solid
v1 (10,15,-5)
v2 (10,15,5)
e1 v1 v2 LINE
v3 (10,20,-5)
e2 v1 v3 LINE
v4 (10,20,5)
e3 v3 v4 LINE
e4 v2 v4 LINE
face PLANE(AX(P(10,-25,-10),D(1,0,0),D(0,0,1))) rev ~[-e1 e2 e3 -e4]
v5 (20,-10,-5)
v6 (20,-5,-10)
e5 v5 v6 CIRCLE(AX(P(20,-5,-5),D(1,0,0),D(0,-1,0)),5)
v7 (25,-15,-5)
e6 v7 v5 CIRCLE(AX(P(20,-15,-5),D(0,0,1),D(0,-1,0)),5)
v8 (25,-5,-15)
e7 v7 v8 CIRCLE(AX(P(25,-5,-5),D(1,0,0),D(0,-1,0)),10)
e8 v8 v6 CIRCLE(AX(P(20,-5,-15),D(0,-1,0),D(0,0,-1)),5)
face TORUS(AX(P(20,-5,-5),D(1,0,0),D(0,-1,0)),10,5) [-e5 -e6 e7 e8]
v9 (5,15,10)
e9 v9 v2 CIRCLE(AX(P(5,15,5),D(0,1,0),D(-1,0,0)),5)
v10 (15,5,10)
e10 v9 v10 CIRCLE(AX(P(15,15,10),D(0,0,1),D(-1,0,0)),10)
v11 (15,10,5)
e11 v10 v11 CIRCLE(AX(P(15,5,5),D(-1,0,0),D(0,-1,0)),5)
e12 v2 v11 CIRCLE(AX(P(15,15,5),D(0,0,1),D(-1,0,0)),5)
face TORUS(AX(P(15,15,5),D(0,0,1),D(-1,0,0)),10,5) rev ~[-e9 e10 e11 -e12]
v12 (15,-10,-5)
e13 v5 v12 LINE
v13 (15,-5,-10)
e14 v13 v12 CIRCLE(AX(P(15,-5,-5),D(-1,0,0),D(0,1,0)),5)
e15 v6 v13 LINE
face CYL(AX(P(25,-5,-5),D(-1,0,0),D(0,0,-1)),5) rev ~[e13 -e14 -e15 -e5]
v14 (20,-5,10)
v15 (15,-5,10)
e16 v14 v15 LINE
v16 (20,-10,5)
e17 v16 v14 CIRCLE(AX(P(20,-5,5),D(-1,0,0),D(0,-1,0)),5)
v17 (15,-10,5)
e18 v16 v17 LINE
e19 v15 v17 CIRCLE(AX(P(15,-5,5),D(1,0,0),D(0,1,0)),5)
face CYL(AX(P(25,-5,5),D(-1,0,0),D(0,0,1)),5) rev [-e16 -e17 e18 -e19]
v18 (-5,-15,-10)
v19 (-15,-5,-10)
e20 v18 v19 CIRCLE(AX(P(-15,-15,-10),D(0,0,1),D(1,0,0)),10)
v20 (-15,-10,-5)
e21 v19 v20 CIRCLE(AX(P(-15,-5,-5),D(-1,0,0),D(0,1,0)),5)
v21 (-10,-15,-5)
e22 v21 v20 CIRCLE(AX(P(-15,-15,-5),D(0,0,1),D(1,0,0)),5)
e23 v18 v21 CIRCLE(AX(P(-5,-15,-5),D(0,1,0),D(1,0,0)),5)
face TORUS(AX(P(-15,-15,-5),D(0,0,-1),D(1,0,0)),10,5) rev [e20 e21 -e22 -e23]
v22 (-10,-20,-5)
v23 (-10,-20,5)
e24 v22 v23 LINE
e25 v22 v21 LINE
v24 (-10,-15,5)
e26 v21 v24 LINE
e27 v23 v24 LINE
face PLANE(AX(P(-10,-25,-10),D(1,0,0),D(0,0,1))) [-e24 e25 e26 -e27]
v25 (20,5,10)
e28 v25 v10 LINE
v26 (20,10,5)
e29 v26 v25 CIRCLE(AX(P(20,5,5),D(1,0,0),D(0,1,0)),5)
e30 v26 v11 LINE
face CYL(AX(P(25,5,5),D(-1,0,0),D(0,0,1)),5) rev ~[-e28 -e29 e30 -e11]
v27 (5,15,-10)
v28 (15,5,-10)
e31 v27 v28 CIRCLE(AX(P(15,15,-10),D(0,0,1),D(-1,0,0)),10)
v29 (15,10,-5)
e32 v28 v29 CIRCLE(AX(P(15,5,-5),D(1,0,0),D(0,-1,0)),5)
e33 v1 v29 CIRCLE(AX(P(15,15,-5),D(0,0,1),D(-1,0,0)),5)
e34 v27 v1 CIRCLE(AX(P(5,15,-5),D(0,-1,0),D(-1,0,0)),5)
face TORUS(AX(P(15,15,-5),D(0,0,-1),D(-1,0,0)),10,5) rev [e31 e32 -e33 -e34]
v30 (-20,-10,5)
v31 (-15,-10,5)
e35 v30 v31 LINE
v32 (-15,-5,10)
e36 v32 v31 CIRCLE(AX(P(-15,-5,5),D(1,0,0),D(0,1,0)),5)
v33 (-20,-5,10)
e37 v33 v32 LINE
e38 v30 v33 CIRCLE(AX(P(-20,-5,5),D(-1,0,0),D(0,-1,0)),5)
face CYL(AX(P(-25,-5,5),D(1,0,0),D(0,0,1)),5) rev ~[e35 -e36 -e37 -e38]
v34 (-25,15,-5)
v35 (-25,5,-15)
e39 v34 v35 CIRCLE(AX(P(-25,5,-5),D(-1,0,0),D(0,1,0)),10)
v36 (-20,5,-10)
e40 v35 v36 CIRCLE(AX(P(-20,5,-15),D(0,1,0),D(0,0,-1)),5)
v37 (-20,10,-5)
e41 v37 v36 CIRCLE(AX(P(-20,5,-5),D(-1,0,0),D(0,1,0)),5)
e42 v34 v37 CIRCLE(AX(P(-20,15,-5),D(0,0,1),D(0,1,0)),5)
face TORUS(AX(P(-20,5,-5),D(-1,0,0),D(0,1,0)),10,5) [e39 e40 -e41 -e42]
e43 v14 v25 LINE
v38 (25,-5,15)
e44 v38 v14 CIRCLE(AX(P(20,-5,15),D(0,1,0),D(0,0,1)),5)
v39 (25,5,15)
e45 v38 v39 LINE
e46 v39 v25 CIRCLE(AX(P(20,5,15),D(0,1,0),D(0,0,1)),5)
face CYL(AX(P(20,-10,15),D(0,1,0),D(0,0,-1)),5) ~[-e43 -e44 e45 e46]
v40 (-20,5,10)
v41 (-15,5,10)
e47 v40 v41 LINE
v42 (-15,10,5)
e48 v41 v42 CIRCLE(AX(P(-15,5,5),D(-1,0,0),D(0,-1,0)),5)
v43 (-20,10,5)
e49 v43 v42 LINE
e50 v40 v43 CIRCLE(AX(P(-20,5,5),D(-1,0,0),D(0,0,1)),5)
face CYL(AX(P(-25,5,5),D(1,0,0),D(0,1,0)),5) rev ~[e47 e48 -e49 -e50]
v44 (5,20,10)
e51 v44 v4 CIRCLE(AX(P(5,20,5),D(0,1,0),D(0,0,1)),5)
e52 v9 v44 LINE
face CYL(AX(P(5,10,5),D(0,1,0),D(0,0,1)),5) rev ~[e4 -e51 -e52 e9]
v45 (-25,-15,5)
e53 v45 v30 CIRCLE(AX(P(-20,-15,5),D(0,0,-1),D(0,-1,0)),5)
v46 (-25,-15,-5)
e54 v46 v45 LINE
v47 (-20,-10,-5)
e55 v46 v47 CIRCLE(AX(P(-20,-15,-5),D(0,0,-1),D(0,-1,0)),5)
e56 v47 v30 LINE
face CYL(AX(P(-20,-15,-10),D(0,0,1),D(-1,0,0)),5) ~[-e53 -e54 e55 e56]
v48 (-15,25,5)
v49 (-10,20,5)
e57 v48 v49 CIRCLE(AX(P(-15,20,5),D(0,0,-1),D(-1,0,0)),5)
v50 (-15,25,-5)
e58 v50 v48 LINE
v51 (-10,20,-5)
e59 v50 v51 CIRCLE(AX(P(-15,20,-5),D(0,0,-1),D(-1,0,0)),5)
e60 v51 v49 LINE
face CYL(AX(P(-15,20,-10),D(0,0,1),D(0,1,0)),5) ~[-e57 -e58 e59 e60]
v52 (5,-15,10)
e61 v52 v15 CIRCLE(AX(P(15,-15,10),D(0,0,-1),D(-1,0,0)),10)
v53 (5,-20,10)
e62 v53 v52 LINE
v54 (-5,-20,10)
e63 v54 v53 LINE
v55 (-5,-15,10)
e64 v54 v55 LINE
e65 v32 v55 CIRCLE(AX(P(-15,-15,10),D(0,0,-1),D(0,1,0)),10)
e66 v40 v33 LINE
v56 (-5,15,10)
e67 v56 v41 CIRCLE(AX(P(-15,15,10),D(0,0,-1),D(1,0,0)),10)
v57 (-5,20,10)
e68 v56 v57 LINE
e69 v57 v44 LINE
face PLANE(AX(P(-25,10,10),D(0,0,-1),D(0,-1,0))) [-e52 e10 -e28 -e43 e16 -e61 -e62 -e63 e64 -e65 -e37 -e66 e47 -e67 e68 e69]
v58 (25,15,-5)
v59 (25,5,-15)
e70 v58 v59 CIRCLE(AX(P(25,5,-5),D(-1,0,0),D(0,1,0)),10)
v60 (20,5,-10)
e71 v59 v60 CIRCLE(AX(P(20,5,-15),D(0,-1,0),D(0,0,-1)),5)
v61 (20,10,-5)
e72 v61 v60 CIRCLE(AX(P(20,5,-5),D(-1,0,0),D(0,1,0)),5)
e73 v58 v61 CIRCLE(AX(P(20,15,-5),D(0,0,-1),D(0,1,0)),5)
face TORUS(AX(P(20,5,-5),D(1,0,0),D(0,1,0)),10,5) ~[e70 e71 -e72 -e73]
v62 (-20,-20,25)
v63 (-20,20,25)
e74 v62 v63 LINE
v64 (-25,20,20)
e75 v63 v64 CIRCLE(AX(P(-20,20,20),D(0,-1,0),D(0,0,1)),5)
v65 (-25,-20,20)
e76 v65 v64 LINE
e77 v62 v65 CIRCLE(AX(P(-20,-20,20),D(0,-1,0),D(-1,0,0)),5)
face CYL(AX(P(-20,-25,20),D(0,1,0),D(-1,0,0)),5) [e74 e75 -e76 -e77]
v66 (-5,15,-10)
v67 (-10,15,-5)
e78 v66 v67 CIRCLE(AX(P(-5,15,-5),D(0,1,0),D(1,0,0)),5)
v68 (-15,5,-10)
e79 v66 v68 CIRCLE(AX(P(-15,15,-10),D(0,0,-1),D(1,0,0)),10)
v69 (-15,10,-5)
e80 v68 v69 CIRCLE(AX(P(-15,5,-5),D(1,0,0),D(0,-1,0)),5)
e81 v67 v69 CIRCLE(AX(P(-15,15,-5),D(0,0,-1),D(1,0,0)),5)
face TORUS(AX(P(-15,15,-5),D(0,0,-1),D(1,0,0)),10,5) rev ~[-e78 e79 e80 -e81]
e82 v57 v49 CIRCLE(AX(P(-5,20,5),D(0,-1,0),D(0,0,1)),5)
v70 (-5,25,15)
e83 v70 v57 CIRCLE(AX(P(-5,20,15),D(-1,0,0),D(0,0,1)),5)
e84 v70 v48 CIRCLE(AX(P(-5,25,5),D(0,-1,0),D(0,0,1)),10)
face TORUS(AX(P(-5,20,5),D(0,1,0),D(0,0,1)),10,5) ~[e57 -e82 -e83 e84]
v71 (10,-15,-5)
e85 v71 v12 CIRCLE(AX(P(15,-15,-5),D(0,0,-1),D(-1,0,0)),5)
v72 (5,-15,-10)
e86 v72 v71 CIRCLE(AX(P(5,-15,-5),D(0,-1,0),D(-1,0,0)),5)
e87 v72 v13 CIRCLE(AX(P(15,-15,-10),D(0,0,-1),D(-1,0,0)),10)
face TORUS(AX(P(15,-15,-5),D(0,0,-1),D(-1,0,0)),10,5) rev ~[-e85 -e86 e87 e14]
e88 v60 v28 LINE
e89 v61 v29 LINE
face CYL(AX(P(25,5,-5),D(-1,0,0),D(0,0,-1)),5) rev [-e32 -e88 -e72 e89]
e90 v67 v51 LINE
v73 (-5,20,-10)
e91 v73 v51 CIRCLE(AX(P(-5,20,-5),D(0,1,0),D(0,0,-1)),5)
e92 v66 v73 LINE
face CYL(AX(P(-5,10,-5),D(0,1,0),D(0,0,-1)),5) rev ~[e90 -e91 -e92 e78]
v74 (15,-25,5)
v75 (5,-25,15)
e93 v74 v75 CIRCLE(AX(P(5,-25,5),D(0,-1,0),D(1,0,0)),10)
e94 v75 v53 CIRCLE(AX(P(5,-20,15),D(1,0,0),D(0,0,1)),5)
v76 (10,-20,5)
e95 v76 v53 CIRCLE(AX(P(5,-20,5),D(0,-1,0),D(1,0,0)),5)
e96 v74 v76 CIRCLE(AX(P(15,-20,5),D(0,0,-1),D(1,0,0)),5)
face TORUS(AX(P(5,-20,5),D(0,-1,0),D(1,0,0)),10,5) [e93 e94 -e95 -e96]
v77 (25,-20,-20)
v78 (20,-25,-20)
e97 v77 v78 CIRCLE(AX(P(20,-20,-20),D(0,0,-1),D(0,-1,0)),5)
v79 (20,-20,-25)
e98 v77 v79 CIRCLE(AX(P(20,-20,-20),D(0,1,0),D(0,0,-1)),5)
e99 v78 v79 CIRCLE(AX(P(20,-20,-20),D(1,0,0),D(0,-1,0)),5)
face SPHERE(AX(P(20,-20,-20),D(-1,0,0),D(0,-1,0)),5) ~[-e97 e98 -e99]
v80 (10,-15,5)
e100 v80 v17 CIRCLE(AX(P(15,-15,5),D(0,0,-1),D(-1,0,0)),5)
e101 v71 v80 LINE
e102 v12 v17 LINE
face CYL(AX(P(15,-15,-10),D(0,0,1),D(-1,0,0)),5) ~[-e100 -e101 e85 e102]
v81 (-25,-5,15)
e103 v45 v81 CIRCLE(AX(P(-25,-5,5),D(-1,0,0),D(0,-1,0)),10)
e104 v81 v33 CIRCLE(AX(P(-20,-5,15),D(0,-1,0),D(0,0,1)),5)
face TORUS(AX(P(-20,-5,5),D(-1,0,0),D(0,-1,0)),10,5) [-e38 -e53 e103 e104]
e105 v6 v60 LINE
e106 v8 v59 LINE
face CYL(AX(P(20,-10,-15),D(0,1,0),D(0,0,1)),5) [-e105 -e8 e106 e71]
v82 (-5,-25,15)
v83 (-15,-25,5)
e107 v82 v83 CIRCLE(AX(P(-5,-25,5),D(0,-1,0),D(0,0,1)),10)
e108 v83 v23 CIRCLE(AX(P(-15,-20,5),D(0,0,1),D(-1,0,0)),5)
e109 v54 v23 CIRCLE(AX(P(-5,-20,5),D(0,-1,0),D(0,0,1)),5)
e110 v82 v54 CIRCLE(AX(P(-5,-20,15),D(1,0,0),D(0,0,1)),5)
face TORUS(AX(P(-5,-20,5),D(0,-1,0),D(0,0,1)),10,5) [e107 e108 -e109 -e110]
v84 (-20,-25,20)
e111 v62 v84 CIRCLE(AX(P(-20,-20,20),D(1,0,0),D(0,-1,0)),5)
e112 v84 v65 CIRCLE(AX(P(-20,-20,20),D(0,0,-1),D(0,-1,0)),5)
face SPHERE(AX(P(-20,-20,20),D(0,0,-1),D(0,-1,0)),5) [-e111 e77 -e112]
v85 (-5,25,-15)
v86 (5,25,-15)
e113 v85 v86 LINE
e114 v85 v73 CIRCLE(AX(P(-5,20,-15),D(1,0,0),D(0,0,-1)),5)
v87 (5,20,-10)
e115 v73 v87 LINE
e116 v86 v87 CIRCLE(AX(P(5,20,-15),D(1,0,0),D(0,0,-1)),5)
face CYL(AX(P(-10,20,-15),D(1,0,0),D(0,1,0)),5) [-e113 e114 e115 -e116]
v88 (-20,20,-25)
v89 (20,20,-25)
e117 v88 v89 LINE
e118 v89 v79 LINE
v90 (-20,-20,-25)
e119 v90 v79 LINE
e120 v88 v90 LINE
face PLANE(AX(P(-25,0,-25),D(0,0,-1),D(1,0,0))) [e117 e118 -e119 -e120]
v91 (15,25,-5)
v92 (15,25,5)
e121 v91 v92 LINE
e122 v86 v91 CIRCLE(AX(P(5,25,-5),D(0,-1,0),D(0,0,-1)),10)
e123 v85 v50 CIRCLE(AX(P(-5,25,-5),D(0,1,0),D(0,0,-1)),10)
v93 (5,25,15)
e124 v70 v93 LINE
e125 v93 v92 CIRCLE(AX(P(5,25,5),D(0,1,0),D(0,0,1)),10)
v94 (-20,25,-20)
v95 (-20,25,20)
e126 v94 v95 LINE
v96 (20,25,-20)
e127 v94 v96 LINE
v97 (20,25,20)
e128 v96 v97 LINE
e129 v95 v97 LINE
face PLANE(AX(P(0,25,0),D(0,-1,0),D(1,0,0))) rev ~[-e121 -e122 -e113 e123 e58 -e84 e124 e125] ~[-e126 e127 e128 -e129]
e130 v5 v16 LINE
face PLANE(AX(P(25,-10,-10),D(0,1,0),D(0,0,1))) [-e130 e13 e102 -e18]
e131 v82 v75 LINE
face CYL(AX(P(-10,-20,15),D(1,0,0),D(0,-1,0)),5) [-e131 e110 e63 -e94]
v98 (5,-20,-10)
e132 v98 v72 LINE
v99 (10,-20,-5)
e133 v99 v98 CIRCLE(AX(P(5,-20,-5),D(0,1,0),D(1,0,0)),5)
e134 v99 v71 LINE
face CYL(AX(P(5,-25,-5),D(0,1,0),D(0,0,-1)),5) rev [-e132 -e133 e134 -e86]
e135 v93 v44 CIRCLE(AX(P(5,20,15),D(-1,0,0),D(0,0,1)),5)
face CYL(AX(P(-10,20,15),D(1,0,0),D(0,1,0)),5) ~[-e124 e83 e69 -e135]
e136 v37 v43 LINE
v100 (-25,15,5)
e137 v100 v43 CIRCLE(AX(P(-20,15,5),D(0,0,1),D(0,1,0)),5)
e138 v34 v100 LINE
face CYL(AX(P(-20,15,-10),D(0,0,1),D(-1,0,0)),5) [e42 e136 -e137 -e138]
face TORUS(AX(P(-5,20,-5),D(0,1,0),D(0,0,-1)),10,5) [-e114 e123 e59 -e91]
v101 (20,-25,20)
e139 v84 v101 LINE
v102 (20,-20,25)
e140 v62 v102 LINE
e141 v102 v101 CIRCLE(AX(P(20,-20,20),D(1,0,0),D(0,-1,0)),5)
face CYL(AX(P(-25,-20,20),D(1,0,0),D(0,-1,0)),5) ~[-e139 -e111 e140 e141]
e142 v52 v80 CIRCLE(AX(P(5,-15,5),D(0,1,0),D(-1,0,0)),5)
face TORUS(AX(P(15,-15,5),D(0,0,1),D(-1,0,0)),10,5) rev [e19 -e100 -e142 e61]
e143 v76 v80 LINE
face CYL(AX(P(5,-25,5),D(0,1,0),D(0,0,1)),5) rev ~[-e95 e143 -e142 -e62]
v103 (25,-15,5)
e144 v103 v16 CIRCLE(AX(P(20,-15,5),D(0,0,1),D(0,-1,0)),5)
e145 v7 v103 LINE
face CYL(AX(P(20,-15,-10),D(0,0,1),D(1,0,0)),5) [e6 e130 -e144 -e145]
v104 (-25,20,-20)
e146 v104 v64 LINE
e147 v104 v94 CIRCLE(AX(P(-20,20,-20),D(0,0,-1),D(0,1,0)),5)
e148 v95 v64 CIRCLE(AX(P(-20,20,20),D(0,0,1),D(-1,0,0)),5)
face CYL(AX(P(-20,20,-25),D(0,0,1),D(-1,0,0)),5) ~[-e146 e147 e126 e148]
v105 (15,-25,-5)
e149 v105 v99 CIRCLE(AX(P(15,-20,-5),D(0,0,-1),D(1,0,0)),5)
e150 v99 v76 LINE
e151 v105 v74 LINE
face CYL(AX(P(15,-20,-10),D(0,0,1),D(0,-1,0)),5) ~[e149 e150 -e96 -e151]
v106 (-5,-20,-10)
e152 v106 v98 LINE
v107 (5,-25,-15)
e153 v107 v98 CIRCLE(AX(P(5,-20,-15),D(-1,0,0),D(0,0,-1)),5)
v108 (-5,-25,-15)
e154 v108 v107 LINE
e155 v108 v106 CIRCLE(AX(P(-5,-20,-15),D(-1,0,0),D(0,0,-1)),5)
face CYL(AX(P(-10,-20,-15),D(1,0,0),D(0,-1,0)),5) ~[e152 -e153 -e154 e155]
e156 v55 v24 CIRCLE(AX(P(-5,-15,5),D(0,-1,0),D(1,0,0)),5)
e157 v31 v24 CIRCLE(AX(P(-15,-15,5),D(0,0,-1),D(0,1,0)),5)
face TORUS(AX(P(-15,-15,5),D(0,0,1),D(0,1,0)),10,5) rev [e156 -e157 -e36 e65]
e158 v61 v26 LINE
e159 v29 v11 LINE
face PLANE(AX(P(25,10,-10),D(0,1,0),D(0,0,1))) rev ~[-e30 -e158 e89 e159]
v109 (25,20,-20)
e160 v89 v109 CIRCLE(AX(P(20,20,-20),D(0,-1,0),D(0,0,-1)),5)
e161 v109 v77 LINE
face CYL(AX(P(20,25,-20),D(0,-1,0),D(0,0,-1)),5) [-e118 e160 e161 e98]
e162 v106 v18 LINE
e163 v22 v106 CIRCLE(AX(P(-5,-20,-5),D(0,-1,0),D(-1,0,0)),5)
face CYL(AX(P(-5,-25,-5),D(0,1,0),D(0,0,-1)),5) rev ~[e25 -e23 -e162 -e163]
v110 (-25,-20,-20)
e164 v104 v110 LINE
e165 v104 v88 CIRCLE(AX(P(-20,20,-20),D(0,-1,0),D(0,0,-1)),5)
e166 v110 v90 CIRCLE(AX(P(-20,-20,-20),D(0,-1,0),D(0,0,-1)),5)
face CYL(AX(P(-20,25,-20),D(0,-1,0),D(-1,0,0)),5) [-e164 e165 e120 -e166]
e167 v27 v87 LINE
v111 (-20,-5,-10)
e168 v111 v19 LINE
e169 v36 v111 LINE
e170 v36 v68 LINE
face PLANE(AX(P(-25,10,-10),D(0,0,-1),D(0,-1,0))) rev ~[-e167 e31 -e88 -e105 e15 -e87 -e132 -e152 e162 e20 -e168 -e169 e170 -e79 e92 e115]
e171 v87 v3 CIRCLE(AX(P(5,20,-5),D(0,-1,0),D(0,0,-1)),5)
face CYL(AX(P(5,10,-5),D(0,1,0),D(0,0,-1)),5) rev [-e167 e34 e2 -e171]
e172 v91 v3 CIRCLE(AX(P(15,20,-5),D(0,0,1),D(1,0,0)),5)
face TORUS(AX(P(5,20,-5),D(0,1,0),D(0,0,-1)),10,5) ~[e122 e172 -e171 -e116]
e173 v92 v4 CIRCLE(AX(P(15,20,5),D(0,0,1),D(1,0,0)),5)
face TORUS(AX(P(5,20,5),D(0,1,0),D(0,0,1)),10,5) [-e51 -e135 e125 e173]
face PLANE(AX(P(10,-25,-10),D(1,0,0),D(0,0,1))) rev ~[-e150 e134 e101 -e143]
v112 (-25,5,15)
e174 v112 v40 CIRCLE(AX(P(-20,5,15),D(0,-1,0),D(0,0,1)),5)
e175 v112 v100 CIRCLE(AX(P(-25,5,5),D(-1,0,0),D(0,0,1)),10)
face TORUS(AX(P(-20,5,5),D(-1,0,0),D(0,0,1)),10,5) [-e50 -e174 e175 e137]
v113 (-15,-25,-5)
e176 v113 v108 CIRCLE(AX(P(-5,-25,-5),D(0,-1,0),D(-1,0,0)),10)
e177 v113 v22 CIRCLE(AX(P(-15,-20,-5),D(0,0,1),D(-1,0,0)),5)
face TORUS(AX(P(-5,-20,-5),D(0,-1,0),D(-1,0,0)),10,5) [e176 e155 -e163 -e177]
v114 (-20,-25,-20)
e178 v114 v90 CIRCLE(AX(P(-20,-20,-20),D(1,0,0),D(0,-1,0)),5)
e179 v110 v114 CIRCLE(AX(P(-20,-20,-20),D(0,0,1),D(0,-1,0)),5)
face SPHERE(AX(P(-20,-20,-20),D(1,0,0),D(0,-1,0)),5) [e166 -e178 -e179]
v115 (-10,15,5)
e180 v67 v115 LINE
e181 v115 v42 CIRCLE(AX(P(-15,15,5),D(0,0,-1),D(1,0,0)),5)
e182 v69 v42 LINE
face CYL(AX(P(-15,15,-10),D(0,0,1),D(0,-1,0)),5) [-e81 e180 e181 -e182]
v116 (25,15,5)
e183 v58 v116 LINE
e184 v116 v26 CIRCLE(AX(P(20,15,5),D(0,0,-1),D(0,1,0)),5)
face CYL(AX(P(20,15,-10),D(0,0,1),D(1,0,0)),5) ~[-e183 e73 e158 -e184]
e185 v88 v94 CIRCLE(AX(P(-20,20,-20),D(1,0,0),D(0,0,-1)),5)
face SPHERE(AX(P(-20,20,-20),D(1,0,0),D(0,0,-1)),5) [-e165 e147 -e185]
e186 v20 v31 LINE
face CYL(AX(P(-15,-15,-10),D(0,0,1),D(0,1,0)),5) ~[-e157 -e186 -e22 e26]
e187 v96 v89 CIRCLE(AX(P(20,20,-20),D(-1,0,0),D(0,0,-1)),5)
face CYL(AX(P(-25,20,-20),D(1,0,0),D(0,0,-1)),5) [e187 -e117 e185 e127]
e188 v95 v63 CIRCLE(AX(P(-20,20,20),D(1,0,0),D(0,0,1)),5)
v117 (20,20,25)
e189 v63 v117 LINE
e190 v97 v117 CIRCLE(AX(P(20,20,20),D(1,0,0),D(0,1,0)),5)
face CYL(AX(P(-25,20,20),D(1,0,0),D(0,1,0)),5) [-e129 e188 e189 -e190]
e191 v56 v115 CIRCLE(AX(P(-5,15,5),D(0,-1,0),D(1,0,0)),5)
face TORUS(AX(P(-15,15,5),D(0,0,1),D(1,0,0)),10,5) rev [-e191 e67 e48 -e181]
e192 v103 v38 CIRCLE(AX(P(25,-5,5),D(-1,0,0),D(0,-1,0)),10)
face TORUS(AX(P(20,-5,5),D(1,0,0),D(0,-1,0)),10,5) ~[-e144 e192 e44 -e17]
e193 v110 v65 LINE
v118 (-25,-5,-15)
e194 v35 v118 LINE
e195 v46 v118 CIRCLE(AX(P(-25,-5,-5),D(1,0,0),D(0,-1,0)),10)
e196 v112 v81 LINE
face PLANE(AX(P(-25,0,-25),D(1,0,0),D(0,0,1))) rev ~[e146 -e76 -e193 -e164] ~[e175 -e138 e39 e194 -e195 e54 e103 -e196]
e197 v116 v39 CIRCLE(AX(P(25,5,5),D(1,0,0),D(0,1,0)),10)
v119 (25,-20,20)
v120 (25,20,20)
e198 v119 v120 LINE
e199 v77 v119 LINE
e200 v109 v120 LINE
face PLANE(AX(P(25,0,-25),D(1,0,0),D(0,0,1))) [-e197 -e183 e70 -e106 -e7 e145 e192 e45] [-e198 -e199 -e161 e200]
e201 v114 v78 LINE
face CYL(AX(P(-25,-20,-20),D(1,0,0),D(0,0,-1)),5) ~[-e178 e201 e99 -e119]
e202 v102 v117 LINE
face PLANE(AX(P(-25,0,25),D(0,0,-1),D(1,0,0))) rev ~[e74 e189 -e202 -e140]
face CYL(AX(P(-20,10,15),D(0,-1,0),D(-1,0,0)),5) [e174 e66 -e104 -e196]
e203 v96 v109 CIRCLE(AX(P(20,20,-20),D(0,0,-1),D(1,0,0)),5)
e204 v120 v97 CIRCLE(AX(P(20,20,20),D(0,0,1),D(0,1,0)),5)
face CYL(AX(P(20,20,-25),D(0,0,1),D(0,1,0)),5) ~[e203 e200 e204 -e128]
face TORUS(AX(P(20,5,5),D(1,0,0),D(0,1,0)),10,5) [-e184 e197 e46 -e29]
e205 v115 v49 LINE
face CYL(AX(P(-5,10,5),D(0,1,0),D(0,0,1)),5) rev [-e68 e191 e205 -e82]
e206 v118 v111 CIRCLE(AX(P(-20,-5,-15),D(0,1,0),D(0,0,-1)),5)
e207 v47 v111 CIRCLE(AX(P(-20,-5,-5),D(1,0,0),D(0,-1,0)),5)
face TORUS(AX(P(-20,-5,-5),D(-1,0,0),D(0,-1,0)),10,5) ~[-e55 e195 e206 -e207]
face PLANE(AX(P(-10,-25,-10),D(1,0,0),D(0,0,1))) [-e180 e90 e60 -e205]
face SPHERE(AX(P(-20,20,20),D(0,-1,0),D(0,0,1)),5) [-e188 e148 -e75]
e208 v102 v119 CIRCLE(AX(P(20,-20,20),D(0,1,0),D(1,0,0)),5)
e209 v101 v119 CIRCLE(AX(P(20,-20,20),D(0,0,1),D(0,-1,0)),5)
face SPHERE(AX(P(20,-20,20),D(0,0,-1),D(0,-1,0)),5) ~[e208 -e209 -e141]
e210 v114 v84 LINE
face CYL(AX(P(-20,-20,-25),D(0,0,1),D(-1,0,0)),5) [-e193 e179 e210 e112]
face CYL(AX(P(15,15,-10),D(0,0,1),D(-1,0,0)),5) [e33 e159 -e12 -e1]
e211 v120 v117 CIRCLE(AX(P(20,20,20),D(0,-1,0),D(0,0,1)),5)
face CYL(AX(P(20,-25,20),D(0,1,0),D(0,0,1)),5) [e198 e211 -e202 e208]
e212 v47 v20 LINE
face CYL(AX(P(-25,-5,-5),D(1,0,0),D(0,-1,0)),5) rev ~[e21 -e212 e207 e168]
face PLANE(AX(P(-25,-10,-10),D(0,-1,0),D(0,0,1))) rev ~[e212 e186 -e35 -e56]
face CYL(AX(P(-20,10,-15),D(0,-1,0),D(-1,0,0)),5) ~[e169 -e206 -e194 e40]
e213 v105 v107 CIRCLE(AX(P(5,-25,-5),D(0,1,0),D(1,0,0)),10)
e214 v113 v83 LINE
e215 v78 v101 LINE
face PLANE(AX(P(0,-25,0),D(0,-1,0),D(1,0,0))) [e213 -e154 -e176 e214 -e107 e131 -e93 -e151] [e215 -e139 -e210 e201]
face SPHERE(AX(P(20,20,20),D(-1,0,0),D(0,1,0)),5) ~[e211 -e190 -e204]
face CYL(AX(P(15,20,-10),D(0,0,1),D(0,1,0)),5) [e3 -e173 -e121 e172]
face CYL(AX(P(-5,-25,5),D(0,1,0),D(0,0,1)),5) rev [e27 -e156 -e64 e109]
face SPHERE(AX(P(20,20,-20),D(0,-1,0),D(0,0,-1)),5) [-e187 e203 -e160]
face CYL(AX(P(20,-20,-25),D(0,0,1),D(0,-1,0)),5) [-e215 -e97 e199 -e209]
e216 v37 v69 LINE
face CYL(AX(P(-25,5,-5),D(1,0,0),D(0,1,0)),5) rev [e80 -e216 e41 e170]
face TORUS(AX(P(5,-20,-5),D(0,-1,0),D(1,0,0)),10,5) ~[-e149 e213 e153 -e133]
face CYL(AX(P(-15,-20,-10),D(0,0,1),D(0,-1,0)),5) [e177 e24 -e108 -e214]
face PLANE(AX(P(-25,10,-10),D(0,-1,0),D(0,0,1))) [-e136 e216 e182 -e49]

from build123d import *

# Parameters (mm, degrees)
F0_W     = 50
F0_H     = 50
F1_DEPTH = 25
F2_W     = 20
F2_H     = 20
F3_DEPTH = 50
F4_W     = 20
F4_H     = 20
F5_DEPTH = 15
F6_W     = 20
F6_H     = 20
F7_DEPTH = 15
F8_R     = 5


with BuildPart() as f1:
    # F0 (on Front) → F1 (new body, symmetric)
    with BuildSketch(Plane.XZ):
        Rectangle(F0_W, F0_H)
    extrude(amount=F1_DEPTH, both=True)

    # F2 (on face) → F3 (cut, through all)
    with BuildSketch(Plane.XZ.offset(25)):
        Rectangle(F2_W, F2_H)
    extrude(amount=-F3_DEPTH, mode=Mode.SUBTRACT)

    # F4 (on face) → F5 (cut, through all)
    with BuildSketch(Plane.YZ.offset(25)):
        Rectangle(F4_W, F4_H)
    extrude(amount=-F5_DEPTH, mode=Mode.SUBTRACT)

    # F6 (on face) → F7 (cut, through all)
    with BuildSketch(Plane(origin=(-25, 0, 0), x_dir=(0, -1, 0), z_dir=(-1, 0, 0))):
        Rectangle(F6_W, F6_H)
    extrude(amount=-F7_DEPTH, mode=Mode.SUBTRACT)

    # F8
    f8_edges = [f1.edges().sort_by_distance(p)[0] for p in [
        (-17.5, -10, 10),
        (17.5, -10, 10),
        (10, -25, 0),
        (0, -25, -25),
        (-25, -25, 0),
        (25, -25, 0),
        (0, -25, 25),
        (0, -25, 10),
        (-10, -25, 0),
        (0, -25, -10),
        (-17.5, -10, -10),
        (-25, 0, 25),
        (17.5, -10, -10),
        (0, 25, 25),
        (25, -10, 0),
        (10, -10, 0),
        (10, -17.5, -10),
        (-17.5, 10, -10),
        (-25, -10, 0),
        (17.5, 10, 10),
        (25, 0, -25),
        (-10, -17.5, 10),
        (-17.5, 10, 10),
        (0, 25, -10),
        (-10, -10, 0),
        (0, 25, 10),
        (0, 25, -25),
        (17.5, 10, -10),
        (10, -17.5, 10),
        (-25, 0, -25),
        (-25, 25, 0),
        (25, 25, 0),
        (-10, 25, 0),
        (10, 25, 0),
        (-10, -17.5, -10),
        (25, 0, 25),
        (-25, 0, 10),
        (-25, 10, 0),
        (10, 10, 0),
        (-10, 10, 0),
        (-10, 17.5, 10),
        (10, 17.5, 10),
        (-25, 0, -10),
        (25, 10, 0),
        (25, 0, -10),
        (-10, 17.5, -10),
        (10, 17.5, -10),
        (25, 0, 10),
    ]]
    fillet(f8_edges, radius=F8_R)


solid = f1.part
